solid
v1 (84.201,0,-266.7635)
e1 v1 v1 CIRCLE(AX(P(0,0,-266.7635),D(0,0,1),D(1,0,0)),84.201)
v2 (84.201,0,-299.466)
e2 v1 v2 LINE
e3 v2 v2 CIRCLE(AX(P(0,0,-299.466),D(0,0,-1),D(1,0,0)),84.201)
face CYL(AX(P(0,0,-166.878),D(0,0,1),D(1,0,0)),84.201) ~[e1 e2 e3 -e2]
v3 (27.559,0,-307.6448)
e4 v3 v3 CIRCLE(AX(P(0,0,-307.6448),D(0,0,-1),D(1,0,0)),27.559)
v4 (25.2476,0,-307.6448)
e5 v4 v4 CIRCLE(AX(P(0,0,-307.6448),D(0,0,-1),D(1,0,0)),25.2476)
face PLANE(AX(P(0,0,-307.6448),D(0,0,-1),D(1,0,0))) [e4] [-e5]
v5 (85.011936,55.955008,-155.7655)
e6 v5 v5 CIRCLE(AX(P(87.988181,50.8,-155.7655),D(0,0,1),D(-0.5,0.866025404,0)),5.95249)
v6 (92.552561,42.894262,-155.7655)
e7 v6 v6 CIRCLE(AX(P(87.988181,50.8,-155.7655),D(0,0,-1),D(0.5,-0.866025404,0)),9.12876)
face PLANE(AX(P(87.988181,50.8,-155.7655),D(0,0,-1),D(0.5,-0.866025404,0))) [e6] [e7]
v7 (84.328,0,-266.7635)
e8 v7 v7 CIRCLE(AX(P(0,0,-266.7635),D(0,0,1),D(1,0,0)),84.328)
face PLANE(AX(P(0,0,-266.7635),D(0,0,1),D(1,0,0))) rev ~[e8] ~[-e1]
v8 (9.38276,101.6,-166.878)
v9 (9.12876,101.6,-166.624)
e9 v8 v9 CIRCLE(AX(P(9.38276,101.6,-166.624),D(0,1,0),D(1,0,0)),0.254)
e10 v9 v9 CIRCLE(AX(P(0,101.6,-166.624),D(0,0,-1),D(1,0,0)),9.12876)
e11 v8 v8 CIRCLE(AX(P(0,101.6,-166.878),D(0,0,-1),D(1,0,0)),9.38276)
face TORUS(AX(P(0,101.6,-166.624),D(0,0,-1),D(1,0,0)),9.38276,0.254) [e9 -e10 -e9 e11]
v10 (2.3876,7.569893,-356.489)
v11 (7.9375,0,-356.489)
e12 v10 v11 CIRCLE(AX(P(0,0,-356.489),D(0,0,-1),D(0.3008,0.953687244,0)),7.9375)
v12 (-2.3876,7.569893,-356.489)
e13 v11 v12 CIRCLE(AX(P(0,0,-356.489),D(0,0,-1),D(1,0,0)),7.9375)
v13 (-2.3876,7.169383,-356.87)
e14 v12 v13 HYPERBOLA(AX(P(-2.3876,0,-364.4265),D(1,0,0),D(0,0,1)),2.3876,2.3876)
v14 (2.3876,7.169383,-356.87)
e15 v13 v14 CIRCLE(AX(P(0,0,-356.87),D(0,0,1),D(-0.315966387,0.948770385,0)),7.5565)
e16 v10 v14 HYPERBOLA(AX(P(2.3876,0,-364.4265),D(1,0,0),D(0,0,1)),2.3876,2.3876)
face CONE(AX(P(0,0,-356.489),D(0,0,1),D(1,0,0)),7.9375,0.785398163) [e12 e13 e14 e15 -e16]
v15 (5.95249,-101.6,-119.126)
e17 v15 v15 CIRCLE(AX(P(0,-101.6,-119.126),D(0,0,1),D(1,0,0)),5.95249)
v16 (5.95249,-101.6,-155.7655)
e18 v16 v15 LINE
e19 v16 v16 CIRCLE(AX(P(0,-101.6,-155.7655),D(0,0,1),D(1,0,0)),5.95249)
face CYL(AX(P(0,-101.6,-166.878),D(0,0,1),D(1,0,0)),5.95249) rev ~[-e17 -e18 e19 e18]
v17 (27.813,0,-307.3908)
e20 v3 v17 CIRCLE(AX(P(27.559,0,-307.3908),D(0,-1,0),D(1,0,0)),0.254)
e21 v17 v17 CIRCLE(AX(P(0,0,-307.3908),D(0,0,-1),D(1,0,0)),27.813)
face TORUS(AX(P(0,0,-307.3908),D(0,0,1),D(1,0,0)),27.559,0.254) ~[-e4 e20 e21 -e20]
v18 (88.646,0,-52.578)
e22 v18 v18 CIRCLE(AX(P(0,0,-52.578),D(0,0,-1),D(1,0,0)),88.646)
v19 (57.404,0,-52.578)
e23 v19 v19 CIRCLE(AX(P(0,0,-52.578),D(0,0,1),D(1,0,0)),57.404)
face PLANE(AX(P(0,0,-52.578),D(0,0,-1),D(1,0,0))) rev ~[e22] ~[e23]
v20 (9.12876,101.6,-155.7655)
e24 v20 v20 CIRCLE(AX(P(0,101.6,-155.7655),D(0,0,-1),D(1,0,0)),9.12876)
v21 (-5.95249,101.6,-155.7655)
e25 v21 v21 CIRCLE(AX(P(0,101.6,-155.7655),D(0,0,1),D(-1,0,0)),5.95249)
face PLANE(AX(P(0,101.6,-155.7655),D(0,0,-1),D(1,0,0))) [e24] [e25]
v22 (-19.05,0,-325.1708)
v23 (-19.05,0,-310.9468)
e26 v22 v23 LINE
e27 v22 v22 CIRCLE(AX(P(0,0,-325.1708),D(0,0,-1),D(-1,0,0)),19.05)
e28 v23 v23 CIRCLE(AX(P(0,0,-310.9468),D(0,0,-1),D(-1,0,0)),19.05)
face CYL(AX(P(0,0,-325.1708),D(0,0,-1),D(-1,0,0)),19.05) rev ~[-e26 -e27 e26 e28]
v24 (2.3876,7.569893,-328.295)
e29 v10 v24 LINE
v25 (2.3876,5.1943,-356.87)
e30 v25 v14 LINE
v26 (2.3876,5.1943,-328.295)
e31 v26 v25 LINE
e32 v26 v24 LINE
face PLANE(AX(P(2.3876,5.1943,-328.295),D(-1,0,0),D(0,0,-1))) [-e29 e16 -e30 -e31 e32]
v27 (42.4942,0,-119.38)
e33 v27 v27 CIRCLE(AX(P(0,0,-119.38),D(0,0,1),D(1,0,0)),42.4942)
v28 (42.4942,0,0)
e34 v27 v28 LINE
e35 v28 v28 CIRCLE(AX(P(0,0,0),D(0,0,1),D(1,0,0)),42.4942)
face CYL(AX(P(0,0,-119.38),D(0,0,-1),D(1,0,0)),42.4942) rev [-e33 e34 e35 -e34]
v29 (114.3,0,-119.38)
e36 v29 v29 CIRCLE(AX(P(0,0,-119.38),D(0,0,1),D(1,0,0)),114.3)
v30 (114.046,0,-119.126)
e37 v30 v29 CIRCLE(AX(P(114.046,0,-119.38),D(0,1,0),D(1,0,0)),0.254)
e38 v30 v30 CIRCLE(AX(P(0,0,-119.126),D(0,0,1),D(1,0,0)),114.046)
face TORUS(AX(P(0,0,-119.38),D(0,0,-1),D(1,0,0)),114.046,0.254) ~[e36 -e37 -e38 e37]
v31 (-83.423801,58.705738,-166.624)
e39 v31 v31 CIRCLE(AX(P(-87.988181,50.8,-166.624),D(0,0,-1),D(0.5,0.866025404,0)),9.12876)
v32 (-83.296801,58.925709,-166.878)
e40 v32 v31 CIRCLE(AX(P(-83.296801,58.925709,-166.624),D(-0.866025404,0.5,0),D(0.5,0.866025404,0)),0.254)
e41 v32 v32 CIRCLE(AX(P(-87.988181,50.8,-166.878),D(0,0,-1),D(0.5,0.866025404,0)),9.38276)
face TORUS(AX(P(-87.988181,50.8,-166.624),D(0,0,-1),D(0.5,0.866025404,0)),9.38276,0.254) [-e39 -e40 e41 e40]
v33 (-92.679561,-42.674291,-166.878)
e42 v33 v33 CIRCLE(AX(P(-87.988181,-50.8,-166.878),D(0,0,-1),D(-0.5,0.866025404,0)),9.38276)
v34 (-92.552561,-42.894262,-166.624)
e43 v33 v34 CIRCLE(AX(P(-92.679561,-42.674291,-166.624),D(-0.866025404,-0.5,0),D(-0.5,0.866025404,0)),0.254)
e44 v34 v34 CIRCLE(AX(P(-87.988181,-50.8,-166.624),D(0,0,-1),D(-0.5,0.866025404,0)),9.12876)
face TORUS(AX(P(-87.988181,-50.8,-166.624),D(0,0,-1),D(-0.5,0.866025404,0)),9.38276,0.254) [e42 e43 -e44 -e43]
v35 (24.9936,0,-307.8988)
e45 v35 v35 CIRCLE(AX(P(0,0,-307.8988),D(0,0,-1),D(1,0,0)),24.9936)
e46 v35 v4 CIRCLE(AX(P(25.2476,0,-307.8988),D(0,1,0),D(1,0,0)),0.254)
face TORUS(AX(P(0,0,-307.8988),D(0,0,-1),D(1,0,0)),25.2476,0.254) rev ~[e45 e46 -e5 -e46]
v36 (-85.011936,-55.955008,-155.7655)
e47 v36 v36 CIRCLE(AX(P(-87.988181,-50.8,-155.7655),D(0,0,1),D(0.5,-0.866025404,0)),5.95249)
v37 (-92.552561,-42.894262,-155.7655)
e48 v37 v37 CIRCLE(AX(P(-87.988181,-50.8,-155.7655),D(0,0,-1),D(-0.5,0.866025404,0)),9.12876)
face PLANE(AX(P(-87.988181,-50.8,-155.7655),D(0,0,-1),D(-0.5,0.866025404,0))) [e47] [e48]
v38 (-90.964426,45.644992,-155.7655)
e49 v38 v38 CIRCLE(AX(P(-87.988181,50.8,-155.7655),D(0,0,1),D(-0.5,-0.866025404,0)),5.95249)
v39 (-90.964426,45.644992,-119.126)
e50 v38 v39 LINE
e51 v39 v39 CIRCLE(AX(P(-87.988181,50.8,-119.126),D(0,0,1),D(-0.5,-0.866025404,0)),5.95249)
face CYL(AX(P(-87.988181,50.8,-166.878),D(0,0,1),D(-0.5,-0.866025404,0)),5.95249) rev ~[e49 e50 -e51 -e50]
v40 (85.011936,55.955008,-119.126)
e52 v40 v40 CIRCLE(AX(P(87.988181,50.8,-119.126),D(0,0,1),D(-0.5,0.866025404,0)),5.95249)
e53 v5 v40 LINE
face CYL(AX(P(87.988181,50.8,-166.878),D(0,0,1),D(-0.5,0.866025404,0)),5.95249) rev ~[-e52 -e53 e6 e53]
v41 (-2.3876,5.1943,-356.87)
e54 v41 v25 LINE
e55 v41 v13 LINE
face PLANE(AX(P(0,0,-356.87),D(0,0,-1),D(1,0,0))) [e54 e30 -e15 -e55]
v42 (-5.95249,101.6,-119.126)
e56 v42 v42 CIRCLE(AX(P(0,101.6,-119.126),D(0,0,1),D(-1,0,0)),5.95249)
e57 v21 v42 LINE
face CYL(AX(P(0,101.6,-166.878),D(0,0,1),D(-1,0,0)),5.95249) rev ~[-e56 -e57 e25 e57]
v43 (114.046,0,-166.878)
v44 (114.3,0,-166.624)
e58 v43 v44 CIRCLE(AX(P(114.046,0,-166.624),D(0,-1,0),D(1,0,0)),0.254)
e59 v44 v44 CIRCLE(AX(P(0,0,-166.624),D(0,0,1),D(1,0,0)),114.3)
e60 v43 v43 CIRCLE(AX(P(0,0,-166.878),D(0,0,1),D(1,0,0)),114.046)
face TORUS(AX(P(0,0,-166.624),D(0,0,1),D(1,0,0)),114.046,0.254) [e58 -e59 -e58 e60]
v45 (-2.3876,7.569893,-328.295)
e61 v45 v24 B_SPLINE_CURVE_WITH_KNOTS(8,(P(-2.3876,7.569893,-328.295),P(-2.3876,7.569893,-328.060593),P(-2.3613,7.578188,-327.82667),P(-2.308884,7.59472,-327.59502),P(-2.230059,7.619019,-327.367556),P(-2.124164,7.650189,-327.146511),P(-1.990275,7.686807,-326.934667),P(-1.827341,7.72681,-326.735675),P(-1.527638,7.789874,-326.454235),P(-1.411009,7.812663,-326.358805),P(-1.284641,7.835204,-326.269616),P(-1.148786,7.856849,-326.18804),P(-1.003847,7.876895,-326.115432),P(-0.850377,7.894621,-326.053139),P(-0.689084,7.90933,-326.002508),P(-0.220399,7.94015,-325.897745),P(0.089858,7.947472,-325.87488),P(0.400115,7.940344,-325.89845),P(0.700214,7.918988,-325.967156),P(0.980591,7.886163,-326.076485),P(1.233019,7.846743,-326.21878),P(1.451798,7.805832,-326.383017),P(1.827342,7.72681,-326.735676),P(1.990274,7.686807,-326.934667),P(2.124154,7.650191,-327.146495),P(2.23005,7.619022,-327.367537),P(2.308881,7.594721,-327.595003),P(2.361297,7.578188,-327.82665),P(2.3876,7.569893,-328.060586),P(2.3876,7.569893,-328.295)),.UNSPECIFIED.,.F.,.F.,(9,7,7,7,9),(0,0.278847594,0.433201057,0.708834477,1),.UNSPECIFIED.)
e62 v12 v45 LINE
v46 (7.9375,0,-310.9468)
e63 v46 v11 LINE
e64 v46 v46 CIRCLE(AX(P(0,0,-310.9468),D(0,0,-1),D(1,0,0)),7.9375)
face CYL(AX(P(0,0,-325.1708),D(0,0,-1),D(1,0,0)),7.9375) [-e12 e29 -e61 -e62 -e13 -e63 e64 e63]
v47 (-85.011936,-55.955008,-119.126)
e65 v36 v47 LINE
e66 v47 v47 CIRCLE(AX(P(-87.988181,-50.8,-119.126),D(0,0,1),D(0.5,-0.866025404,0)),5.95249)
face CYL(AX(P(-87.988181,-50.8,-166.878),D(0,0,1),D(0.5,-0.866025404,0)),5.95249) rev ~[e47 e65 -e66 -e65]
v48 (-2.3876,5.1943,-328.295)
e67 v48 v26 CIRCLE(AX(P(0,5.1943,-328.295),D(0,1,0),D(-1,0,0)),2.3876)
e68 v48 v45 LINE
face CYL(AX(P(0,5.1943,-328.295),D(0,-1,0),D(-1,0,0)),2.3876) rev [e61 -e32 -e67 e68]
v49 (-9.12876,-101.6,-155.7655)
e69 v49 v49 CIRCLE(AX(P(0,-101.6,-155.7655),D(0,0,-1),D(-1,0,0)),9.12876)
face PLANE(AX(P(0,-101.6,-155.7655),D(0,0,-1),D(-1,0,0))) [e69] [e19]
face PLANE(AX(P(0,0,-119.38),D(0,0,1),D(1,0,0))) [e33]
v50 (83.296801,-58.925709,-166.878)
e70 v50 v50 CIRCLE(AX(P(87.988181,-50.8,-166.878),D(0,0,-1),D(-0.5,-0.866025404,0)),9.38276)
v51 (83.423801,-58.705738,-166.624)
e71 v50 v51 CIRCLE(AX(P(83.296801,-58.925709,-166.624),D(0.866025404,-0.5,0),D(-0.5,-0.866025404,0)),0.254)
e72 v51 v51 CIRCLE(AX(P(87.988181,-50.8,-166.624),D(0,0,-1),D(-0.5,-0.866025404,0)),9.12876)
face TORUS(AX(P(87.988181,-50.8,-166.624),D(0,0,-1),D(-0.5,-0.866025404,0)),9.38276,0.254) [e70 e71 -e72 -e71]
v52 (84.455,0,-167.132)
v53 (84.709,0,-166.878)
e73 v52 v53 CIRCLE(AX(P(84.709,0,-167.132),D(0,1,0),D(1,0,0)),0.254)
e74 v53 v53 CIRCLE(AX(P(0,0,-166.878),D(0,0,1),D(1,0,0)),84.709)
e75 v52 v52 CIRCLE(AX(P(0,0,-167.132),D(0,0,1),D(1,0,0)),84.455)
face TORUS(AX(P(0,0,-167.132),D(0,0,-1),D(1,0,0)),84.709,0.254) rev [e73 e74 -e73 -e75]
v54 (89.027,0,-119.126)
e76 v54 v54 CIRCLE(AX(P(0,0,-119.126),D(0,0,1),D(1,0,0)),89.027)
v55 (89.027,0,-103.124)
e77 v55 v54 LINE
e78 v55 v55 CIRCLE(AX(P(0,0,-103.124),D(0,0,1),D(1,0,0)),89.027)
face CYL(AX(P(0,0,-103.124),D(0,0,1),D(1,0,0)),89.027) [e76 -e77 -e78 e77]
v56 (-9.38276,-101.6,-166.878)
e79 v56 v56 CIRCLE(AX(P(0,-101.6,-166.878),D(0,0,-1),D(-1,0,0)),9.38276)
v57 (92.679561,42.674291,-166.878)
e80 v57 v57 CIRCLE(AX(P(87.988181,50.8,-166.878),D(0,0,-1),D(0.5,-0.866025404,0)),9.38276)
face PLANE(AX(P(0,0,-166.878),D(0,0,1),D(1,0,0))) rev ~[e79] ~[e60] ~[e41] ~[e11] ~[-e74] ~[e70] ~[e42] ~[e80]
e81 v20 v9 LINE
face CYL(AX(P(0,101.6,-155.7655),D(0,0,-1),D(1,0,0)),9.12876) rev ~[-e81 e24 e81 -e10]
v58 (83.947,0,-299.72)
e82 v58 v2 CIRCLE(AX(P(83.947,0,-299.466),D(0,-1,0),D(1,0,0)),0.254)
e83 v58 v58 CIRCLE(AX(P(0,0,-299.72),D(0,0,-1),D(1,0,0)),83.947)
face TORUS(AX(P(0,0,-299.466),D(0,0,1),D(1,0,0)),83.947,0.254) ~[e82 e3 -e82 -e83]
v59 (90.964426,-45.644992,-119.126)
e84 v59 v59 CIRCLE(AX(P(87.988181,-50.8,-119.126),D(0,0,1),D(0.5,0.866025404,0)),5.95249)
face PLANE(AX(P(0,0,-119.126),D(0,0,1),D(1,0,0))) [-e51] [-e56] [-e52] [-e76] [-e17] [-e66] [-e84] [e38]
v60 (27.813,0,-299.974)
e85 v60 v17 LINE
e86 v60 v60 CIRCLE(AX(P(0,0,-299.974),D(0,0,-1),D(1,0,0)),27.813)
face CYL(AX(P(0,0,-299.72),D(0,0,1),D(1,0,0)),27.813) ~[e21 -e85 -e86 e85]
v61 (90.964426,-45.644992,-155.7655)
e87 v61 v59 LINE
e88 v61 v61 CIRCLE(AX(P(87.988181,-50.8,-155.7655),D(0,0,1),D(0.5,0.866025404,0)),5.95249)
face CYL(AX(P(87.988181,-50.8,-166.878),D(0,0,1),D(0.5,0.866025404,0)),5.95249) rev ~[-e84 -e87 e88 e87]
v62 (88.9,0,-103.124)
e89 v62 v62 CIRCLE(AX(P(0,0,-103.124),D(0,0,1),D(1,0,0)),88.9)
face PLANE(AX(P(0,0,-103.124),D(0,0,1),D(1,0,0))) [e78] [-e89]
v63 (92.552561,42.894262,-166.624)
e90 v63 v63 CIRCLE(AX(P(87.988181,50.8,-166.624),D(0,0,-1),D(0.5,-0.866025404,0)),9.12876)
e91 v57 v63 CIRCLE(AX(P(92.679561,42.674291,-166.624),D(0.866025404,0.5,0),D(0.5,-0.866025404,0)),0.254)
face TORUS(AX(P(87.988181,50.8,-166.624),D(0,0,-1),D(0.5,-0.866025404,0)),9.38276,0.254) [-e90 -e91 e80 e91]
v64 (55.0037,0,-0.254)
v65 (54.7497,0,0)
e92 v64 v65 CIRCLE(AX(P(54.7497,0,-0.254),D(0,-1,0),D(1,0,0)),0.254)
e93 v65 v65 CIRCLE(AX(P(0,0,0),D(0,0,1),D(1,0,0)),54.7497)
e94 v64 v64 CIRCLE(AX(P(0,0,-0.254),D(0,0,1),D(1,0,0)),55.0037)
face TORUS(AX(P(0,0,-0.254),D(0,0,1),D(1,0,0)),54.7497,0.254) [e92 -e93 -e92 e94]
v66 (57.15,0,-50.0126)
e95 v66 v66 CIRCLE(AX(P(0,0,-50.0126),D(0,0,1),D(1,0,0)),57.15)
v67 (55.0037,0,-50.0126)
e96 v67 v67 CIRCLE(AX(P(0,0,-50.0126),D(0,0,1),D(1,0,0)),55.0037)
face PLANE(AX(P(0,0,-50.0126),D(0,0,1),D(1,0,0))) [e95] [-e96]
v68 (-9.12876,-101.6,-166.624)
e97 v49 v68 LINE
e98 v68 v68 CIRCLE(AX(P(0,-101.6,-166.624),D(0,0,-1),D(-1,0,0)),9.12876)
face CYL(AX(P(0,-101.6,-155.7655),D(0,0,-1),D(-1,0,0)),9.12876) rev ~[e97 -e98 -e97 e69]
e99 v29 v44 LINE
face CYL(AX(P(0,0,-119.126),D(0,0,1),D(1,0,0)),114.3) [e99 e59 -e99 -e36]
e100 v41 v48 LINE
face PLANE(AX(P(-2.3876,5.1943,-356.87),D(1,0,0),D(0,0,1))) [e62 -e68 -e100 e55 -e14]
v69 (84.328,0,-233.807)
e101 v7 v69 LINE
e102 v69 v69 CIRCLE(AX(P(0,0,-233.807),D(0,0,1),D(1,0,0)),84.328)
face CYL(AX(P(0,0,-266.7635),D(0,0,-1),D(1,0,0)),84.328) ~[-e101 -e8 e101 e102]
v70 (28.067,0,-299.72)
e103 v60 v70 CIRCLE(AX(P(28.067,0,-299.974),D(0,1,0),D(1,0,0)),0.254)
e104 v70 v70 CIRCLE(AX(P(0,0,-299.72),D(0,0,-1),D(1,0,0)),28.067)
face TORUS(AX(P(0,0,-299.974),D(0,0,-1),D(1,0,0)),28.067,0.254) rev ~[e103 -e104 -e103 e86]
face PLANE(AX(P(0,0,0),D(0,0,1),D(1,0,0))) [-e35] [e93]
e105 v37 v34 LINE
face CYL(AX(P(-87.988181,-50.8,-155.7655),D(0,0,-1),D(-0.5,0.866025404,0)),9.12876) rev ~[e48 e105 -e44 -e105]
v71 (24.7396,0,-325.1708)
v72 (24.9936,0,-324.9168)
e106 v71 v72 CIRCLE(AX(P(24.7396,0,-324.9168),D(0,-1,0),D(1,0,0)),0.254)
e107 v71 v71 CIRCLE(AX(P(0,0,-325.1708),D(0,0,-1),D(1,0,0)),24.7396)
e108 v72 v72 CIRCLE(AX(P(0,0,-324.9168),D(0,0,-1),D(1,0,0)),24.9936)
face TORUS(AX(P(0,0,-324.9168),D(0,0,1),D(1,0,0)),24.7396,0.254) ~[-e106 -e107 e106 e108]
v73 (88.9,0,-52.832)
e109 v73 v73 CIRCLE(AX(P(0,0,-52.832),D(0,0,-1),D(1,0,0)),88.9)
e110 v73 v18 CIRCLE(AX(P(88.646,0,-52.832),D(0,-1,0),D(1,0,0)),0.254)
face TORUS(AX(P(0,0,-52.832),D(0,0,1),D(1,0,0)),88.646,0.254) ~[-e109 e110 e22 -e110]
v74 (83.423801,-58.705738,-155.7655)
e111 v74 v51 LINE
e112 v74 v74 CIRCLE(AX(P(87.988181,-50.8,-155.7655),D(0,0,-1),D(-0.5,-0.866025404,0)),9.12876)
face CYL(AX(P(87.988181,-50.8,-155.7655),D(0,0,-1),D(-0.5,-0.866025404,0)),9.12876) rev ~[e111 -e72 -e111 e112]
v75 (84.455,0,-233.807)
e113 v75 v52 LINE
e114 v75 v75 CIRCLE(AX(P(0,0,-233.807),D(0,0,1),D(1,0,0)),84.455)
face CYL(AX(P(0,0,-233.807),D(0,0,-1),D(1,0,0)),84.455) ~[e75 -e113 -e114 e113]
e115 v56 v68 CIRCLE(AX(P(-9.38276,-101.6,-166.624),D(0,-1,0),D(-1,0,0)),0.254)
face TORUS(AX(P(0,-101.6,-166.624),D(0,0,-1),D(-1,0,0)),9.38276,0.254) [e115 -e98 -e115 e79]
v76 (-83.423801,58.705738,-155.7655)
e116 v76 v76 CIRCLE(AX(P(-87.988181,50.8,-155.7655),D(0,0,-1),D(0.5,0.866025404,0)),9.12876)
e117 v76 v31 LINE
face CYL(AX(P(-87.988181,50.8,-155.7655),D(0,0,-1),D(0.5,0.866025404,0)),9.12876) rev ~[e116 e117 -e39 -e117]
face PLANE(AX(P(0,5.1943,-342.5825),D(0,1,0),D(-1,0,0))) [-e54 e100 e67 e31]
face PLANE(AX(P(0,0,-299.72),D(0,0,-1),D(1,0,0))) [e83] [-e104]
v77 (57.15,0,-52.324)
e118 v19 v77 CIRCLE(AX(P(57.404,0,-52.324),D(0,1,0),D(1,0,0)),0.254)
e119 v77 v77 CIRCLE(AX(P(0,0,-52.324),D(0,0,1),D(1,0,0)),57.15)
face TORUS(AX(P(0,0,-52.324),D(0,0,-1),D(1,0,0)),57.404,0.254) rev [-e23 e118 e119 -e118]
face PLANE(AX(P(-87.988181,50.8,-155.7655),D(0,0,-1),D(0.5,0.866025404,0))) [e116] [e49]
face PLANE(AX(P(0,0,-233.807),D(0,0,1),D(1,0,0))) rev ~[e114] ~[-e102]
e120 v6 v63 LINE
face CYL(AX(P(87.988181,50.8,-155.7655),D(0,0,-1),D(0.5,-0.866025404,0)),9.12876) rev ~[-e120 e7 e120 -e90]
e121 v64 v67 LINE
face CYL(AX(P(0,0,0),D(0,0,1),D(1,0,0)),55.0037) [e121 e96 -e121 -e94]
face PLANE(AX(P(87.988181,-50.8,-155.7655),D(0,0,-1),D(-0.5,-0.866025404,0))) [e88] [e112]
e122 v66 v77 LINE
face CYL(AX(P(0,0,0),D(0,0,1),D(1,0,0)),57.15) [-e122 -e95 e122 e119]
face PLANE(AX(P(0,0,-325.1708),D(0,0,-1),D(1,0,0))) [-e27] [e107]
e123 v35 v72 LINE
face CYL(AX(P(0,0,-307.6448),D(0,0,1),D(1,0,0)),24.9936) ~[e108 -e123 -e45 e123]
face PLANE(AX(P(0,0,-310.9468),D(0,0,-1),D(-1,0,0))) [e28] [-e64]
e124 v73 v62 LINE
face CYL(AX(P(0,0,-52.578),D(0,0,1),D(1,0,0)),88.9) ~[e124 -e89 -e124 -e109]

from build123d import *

# Parameters (mm, degrees)
SKETCH1_R                 = 57.15
EXTRUDE_E_DEPTH           = 52.578
SKETCH2_R                 = 57.15
SKETCH2_R_2               = 55.0037
FROM_DRAWING_DEPTH        = 50.0126
SKETCH3_R                 = 88.9
EXTRUDE_C_DEPTH           = 66.548
SKETCH4_R                 = 89.027
SKETCH4_R_2               = 88.9
BOSS_EXTRUDE3_DEPTH       = 16.002
SKETCH5_R                 = 114.3
EXTRUDE_B_DEPTH           = 47.752
CUT_EXTRUDE_START         = -119.38
SKETCH6_R                 = 42.4942
CUT_EXTRUDE_F_DEPTH       = 119.38
SKETCH8_R                 = 84.201
EXTRUDE_D_DEPTH           = 132.842
BOSS_EXTRUDE6_START       = 32.9565
SKETCH9_R                 = 84.328
BOSS_EXTRUDE6_DEPTH       = 32.9565
SKETCH10_R                = 84.455
BOSS_EXTRUDE7_DEPTH       = 66.929
SKETCH11_R                = 27.813
FROM_DRAWING_2_DEPTH      = 7.9248
SKETCH12_R                = 24.9936
EXTRUDE_Q_DEPTH           = 17.526
SKETCH13_R                = 7.9375
EXTRUDE_R_DEPTH           = 31.6992
HOLE_WIZARD_S_D           = 11.90498
HOLE_WIZARD_S_CBORE_D     = 18.25752
HOLE_WIZARD_S_CBORE_DEPTH = 11.1125
CIRPATTERN1_COUNT         = 6
SKETCH16_R                = 19.05
SKETCH16_R_2              = 7.9375
FROM_DRAWING_3_DEPTH      = 14.224
CUT_EXTRUDE_T_REACH       = 111.106
CUT_EXTRUDE_T_END_RADIUS  = 7.9375
CHAMFER1_SIZE             = 0.381
FILLET1_R                 = 0.254


with BuildPart() as part:
    # Sketch1 → Extrude E (new body)
    with BuildSketch(Plane.XY):
        Circle(SKETCH1_R)
    extrude(amount=-EXTRUDE_E_DEPTH)

    # Sketch2 → from drawing (cut)
    with BuildSketch(Plane.XY):
        Circle(SKETCH2_R)
        Circle(SKETCH2_R_2, mode=Mode.SUBTRACT)
    extrude(amount=-FROM_DRAWING_DEPTH, mode=Mode.SUBTRACT)

    # Sketch3 → Extrude C (add)
    with BuildSketch(Plane(origin=(0, 0, -52.578), x_dir=(-1, 0, 0), z_dir=(0, 0, -1))):
        with Locations(Location((0, 0, 0), (0, 0, 180))):  # turned: the seam where the file's is
            Circle(SKETCH3_R)
    extrude(amount=EXTRUDE_C_DEPTH)

    # Sketch4 → Boss-Extrude3 (add)
    with BuildSketch(Plane.XY.offset(-103.124)):
        Circle(SKETCH4_R)
        Circle(SKETCH4_R_2, mode=Mode.SUBTRACT)
    extrude(amount=-BOSS_EXTRUDE3_DEPTH)

    # Sketch5 → Extrude B (add)
    with BuildSketch(Plane.XY.offset(-119.126)):
        Circle(SKETCH5_R)
    extrude(amount=-EXTRUDE_B_DEPTH)

    # Sketch6 → Cut-Extrude F (cut)
    with BuildSketch(Plane.XY.offset(CUT_EXTRUDE_START)):
        Circle(SKETCH6_R)
    extrude(amount=CUT_EXTRUDE_F_DEPTH, mode=Mode.SUBTRACT)

    # Sketch8 → Extrude D (add)
    with BuildSketch(Plane(origin=(0, 0, -166.878), x_dir=(-1, 0, 0), z_dir=(0, 0, -1))):
        with Locations(Location((0, 0, 0), (0, 0, 180))):  # turned: the seam where the file's is
            Circle(SKETCH8_R)
    extrude(amount=EXTRUDE_D_DEPTH)

    # Sketch9 → Boss-Extrude6 (add)
    with BuildSketch(Plane.XY.offset(-299.72).offset(BOSS_EXTRUDE6_START)):
        Circle(SKETCH9_R)
    extrude(amount=BOSS_EXTRUDE6_DEPTH)

    # Sketch10 → Boss-Extrude7 (add)
    with BuildSketch(Plane.XY.offset(-233.807)):
        Circle(SKETCH10_R)
    extrude(amount=BOSS_EXTRUDE7_DEPTH)

    # Sketch11 → from drawing 2 (add)
    with BuildSketch(Plane(origin=(0, 0, -299.72), x_dir=(-1, 0, 0), z_dir=(0, 0, -1))):
        with Locations(Location((0, 0, 0), (0, 0, 180))):  # turned: the seam where the file's is
            Circle(SKETCH11_R)
    extrude(amount=FROM_DRAWING_2_DEPTH)

    # Sketch12 → Extrude Q (add)
    with BuildSketch(Plane(origin=(0, 0, -307.6448), x_dir=(-1, 0, 0), z_dir=(0, 0, -1))):
        with Locations(Location((0, 0, 0), (0, 0, 180))):  # turned: the seam where the file's is
            Circle(SKETCH12_R)
    extrude(amount=EXTRUDE_Q_DEPTH)

    # Sketch13 → Extrude R (add)
    with BuildSketch(Plane(origin=(0, 0, -325.1708), x_dir=(-1, 0, 0), z_dir=(0, 0, -1))):
        with Locations(Location((0, 0, 0), (0, 0, 180))):  # turned: the seam where the file's is
            Circle(SKETCH13_R)
    extrude(amount=EXTRUDE_R_DEPTH)

    # Hole Wizard S (through all)
    with Locations(Plane(origin=(0, 0, -166.878), x_dir=(-1, 0, 0), z_dir=(0, 0, -1))):
        with Locations((0, -101.6)):
            hole_wizard_s = CounterBoreHole(HOLE_WIZARD_S_D / 2, HOLE_WIZARD_S_CBORE_D / 2, HOLE_WIZARD_S_CBORE_DEPTH)

    # CirPattern1: Hole Wizard S ×6 about axis
    cirpattern1_axis = Axis((0, 0, 0), (0, 0, 1))
    for i in range(1, CIRPATTERN1_COUNT):
        add(hole_wizard_s.rotate(cirpattern1_axis, i * 360 / CIRPATTERN1_COUNT), mode=Mode.SUBTRACT)

    # Sketch16 → from drawing 3 (cut)
    with BuildSketch(Plane(origin=(0, 0, -325.1708), x_dir=(-1, 0, 0), z_dir=(0, 0, -1))):
        Circle(SKETCH16_R)
        with Locations(Location((0, 0, 0), (0, 0, 180))):  # turned: the seam where the file's is
            Circle(SKETCH16_R_2, mode=Mode.SUBTRACT)
    extrude(amount=-FROM_DRAWING_3_DEPTH, mode=Mode.SUBTRACT)

    # Cut-Extrude T: up to this cylinder (the profile starts inside it)
    cut_extrude_t_end = Plane(origin=(0, 0, -342.5825), z_dir=(0, 0, 1)) * Cylinder(CUT_EXTRUDE_T_END_RADIUS, 239.087, mode=Mode.PRIVATE)
    # Sketch17 → Cut-Extrude T (cut, up to the surface)
    with BuildSketch(Plane.XZ.offset(-5.1943), mode=Mode.PRIVATE) as cut_extrude_t_sk1:
        with BuildLine():
            Line((-2.3876, -356.87), (-2.3876, -328.295))
            ThreePointArc((-2.3876, -328.295), (0, -325.9074), (2.3876, -328.295))
            Line((2.3876, -328.295), (2.3876, -356.87))
            ThreePointArc((2.3876, -356.87), (0, -359.2576), (-2.3876, -356.87))
        make_face()
    cut_extrude_t_tool1 = extrude(cut_extrude_t_sk1.sketch, amount=-CUT_EXTRUDE_T_REACH, mode=Mode.PRIVATE) & cut_extrude_t_end
    add(cut_extrude_t_tool1.solids().sort_by_distance((0, 5.1943, -342.5825))[0], mode=Mode.SUBTRACT)

    # Chamfer1
    chamfer1_edges = [part.edges().sort_by_distance(p)[0] for p in [
        (-4.693204196, -6.401385836, -356.87),
    ]]
    chamfer(chamfer1_edges, length=CHAMFER1_SIZE)

    # Fillet1
    fillet1_edges = [part.edges().sort_by_distance(p)[0] for p in [
        (-83.423801024, -58.705738065, -166.878),
        (-55.0037, 0, 0),
        (-88.9, 0, -52.578),
        (-114.3, 0, -119.126),
        (-114.3, 0, -166.878),
        (-84.201, 0, -299.72),
        (-57.15, 0, -52.578),
        (-84.455, 0, -166.878),
        (-27.813, 0, -299.72),
        (-27.813, 0, -307.6448),
        (-24.9936, 0, -307.6448),
        (-24.9936, 0, -325.1708),
        (9.12876, -101.6, -166.878),
        (92.552561024, -42.894261935, -166.878),
        (83.423801024, 58.705738065, -166.878),
        (-9.12876, 101.6, -166.878),
        (-92.552561024, 42.894261935, -166.878),
    ]]
    fillet(fillet1_edges, radius=FILLET1_R)


solid = part.part
